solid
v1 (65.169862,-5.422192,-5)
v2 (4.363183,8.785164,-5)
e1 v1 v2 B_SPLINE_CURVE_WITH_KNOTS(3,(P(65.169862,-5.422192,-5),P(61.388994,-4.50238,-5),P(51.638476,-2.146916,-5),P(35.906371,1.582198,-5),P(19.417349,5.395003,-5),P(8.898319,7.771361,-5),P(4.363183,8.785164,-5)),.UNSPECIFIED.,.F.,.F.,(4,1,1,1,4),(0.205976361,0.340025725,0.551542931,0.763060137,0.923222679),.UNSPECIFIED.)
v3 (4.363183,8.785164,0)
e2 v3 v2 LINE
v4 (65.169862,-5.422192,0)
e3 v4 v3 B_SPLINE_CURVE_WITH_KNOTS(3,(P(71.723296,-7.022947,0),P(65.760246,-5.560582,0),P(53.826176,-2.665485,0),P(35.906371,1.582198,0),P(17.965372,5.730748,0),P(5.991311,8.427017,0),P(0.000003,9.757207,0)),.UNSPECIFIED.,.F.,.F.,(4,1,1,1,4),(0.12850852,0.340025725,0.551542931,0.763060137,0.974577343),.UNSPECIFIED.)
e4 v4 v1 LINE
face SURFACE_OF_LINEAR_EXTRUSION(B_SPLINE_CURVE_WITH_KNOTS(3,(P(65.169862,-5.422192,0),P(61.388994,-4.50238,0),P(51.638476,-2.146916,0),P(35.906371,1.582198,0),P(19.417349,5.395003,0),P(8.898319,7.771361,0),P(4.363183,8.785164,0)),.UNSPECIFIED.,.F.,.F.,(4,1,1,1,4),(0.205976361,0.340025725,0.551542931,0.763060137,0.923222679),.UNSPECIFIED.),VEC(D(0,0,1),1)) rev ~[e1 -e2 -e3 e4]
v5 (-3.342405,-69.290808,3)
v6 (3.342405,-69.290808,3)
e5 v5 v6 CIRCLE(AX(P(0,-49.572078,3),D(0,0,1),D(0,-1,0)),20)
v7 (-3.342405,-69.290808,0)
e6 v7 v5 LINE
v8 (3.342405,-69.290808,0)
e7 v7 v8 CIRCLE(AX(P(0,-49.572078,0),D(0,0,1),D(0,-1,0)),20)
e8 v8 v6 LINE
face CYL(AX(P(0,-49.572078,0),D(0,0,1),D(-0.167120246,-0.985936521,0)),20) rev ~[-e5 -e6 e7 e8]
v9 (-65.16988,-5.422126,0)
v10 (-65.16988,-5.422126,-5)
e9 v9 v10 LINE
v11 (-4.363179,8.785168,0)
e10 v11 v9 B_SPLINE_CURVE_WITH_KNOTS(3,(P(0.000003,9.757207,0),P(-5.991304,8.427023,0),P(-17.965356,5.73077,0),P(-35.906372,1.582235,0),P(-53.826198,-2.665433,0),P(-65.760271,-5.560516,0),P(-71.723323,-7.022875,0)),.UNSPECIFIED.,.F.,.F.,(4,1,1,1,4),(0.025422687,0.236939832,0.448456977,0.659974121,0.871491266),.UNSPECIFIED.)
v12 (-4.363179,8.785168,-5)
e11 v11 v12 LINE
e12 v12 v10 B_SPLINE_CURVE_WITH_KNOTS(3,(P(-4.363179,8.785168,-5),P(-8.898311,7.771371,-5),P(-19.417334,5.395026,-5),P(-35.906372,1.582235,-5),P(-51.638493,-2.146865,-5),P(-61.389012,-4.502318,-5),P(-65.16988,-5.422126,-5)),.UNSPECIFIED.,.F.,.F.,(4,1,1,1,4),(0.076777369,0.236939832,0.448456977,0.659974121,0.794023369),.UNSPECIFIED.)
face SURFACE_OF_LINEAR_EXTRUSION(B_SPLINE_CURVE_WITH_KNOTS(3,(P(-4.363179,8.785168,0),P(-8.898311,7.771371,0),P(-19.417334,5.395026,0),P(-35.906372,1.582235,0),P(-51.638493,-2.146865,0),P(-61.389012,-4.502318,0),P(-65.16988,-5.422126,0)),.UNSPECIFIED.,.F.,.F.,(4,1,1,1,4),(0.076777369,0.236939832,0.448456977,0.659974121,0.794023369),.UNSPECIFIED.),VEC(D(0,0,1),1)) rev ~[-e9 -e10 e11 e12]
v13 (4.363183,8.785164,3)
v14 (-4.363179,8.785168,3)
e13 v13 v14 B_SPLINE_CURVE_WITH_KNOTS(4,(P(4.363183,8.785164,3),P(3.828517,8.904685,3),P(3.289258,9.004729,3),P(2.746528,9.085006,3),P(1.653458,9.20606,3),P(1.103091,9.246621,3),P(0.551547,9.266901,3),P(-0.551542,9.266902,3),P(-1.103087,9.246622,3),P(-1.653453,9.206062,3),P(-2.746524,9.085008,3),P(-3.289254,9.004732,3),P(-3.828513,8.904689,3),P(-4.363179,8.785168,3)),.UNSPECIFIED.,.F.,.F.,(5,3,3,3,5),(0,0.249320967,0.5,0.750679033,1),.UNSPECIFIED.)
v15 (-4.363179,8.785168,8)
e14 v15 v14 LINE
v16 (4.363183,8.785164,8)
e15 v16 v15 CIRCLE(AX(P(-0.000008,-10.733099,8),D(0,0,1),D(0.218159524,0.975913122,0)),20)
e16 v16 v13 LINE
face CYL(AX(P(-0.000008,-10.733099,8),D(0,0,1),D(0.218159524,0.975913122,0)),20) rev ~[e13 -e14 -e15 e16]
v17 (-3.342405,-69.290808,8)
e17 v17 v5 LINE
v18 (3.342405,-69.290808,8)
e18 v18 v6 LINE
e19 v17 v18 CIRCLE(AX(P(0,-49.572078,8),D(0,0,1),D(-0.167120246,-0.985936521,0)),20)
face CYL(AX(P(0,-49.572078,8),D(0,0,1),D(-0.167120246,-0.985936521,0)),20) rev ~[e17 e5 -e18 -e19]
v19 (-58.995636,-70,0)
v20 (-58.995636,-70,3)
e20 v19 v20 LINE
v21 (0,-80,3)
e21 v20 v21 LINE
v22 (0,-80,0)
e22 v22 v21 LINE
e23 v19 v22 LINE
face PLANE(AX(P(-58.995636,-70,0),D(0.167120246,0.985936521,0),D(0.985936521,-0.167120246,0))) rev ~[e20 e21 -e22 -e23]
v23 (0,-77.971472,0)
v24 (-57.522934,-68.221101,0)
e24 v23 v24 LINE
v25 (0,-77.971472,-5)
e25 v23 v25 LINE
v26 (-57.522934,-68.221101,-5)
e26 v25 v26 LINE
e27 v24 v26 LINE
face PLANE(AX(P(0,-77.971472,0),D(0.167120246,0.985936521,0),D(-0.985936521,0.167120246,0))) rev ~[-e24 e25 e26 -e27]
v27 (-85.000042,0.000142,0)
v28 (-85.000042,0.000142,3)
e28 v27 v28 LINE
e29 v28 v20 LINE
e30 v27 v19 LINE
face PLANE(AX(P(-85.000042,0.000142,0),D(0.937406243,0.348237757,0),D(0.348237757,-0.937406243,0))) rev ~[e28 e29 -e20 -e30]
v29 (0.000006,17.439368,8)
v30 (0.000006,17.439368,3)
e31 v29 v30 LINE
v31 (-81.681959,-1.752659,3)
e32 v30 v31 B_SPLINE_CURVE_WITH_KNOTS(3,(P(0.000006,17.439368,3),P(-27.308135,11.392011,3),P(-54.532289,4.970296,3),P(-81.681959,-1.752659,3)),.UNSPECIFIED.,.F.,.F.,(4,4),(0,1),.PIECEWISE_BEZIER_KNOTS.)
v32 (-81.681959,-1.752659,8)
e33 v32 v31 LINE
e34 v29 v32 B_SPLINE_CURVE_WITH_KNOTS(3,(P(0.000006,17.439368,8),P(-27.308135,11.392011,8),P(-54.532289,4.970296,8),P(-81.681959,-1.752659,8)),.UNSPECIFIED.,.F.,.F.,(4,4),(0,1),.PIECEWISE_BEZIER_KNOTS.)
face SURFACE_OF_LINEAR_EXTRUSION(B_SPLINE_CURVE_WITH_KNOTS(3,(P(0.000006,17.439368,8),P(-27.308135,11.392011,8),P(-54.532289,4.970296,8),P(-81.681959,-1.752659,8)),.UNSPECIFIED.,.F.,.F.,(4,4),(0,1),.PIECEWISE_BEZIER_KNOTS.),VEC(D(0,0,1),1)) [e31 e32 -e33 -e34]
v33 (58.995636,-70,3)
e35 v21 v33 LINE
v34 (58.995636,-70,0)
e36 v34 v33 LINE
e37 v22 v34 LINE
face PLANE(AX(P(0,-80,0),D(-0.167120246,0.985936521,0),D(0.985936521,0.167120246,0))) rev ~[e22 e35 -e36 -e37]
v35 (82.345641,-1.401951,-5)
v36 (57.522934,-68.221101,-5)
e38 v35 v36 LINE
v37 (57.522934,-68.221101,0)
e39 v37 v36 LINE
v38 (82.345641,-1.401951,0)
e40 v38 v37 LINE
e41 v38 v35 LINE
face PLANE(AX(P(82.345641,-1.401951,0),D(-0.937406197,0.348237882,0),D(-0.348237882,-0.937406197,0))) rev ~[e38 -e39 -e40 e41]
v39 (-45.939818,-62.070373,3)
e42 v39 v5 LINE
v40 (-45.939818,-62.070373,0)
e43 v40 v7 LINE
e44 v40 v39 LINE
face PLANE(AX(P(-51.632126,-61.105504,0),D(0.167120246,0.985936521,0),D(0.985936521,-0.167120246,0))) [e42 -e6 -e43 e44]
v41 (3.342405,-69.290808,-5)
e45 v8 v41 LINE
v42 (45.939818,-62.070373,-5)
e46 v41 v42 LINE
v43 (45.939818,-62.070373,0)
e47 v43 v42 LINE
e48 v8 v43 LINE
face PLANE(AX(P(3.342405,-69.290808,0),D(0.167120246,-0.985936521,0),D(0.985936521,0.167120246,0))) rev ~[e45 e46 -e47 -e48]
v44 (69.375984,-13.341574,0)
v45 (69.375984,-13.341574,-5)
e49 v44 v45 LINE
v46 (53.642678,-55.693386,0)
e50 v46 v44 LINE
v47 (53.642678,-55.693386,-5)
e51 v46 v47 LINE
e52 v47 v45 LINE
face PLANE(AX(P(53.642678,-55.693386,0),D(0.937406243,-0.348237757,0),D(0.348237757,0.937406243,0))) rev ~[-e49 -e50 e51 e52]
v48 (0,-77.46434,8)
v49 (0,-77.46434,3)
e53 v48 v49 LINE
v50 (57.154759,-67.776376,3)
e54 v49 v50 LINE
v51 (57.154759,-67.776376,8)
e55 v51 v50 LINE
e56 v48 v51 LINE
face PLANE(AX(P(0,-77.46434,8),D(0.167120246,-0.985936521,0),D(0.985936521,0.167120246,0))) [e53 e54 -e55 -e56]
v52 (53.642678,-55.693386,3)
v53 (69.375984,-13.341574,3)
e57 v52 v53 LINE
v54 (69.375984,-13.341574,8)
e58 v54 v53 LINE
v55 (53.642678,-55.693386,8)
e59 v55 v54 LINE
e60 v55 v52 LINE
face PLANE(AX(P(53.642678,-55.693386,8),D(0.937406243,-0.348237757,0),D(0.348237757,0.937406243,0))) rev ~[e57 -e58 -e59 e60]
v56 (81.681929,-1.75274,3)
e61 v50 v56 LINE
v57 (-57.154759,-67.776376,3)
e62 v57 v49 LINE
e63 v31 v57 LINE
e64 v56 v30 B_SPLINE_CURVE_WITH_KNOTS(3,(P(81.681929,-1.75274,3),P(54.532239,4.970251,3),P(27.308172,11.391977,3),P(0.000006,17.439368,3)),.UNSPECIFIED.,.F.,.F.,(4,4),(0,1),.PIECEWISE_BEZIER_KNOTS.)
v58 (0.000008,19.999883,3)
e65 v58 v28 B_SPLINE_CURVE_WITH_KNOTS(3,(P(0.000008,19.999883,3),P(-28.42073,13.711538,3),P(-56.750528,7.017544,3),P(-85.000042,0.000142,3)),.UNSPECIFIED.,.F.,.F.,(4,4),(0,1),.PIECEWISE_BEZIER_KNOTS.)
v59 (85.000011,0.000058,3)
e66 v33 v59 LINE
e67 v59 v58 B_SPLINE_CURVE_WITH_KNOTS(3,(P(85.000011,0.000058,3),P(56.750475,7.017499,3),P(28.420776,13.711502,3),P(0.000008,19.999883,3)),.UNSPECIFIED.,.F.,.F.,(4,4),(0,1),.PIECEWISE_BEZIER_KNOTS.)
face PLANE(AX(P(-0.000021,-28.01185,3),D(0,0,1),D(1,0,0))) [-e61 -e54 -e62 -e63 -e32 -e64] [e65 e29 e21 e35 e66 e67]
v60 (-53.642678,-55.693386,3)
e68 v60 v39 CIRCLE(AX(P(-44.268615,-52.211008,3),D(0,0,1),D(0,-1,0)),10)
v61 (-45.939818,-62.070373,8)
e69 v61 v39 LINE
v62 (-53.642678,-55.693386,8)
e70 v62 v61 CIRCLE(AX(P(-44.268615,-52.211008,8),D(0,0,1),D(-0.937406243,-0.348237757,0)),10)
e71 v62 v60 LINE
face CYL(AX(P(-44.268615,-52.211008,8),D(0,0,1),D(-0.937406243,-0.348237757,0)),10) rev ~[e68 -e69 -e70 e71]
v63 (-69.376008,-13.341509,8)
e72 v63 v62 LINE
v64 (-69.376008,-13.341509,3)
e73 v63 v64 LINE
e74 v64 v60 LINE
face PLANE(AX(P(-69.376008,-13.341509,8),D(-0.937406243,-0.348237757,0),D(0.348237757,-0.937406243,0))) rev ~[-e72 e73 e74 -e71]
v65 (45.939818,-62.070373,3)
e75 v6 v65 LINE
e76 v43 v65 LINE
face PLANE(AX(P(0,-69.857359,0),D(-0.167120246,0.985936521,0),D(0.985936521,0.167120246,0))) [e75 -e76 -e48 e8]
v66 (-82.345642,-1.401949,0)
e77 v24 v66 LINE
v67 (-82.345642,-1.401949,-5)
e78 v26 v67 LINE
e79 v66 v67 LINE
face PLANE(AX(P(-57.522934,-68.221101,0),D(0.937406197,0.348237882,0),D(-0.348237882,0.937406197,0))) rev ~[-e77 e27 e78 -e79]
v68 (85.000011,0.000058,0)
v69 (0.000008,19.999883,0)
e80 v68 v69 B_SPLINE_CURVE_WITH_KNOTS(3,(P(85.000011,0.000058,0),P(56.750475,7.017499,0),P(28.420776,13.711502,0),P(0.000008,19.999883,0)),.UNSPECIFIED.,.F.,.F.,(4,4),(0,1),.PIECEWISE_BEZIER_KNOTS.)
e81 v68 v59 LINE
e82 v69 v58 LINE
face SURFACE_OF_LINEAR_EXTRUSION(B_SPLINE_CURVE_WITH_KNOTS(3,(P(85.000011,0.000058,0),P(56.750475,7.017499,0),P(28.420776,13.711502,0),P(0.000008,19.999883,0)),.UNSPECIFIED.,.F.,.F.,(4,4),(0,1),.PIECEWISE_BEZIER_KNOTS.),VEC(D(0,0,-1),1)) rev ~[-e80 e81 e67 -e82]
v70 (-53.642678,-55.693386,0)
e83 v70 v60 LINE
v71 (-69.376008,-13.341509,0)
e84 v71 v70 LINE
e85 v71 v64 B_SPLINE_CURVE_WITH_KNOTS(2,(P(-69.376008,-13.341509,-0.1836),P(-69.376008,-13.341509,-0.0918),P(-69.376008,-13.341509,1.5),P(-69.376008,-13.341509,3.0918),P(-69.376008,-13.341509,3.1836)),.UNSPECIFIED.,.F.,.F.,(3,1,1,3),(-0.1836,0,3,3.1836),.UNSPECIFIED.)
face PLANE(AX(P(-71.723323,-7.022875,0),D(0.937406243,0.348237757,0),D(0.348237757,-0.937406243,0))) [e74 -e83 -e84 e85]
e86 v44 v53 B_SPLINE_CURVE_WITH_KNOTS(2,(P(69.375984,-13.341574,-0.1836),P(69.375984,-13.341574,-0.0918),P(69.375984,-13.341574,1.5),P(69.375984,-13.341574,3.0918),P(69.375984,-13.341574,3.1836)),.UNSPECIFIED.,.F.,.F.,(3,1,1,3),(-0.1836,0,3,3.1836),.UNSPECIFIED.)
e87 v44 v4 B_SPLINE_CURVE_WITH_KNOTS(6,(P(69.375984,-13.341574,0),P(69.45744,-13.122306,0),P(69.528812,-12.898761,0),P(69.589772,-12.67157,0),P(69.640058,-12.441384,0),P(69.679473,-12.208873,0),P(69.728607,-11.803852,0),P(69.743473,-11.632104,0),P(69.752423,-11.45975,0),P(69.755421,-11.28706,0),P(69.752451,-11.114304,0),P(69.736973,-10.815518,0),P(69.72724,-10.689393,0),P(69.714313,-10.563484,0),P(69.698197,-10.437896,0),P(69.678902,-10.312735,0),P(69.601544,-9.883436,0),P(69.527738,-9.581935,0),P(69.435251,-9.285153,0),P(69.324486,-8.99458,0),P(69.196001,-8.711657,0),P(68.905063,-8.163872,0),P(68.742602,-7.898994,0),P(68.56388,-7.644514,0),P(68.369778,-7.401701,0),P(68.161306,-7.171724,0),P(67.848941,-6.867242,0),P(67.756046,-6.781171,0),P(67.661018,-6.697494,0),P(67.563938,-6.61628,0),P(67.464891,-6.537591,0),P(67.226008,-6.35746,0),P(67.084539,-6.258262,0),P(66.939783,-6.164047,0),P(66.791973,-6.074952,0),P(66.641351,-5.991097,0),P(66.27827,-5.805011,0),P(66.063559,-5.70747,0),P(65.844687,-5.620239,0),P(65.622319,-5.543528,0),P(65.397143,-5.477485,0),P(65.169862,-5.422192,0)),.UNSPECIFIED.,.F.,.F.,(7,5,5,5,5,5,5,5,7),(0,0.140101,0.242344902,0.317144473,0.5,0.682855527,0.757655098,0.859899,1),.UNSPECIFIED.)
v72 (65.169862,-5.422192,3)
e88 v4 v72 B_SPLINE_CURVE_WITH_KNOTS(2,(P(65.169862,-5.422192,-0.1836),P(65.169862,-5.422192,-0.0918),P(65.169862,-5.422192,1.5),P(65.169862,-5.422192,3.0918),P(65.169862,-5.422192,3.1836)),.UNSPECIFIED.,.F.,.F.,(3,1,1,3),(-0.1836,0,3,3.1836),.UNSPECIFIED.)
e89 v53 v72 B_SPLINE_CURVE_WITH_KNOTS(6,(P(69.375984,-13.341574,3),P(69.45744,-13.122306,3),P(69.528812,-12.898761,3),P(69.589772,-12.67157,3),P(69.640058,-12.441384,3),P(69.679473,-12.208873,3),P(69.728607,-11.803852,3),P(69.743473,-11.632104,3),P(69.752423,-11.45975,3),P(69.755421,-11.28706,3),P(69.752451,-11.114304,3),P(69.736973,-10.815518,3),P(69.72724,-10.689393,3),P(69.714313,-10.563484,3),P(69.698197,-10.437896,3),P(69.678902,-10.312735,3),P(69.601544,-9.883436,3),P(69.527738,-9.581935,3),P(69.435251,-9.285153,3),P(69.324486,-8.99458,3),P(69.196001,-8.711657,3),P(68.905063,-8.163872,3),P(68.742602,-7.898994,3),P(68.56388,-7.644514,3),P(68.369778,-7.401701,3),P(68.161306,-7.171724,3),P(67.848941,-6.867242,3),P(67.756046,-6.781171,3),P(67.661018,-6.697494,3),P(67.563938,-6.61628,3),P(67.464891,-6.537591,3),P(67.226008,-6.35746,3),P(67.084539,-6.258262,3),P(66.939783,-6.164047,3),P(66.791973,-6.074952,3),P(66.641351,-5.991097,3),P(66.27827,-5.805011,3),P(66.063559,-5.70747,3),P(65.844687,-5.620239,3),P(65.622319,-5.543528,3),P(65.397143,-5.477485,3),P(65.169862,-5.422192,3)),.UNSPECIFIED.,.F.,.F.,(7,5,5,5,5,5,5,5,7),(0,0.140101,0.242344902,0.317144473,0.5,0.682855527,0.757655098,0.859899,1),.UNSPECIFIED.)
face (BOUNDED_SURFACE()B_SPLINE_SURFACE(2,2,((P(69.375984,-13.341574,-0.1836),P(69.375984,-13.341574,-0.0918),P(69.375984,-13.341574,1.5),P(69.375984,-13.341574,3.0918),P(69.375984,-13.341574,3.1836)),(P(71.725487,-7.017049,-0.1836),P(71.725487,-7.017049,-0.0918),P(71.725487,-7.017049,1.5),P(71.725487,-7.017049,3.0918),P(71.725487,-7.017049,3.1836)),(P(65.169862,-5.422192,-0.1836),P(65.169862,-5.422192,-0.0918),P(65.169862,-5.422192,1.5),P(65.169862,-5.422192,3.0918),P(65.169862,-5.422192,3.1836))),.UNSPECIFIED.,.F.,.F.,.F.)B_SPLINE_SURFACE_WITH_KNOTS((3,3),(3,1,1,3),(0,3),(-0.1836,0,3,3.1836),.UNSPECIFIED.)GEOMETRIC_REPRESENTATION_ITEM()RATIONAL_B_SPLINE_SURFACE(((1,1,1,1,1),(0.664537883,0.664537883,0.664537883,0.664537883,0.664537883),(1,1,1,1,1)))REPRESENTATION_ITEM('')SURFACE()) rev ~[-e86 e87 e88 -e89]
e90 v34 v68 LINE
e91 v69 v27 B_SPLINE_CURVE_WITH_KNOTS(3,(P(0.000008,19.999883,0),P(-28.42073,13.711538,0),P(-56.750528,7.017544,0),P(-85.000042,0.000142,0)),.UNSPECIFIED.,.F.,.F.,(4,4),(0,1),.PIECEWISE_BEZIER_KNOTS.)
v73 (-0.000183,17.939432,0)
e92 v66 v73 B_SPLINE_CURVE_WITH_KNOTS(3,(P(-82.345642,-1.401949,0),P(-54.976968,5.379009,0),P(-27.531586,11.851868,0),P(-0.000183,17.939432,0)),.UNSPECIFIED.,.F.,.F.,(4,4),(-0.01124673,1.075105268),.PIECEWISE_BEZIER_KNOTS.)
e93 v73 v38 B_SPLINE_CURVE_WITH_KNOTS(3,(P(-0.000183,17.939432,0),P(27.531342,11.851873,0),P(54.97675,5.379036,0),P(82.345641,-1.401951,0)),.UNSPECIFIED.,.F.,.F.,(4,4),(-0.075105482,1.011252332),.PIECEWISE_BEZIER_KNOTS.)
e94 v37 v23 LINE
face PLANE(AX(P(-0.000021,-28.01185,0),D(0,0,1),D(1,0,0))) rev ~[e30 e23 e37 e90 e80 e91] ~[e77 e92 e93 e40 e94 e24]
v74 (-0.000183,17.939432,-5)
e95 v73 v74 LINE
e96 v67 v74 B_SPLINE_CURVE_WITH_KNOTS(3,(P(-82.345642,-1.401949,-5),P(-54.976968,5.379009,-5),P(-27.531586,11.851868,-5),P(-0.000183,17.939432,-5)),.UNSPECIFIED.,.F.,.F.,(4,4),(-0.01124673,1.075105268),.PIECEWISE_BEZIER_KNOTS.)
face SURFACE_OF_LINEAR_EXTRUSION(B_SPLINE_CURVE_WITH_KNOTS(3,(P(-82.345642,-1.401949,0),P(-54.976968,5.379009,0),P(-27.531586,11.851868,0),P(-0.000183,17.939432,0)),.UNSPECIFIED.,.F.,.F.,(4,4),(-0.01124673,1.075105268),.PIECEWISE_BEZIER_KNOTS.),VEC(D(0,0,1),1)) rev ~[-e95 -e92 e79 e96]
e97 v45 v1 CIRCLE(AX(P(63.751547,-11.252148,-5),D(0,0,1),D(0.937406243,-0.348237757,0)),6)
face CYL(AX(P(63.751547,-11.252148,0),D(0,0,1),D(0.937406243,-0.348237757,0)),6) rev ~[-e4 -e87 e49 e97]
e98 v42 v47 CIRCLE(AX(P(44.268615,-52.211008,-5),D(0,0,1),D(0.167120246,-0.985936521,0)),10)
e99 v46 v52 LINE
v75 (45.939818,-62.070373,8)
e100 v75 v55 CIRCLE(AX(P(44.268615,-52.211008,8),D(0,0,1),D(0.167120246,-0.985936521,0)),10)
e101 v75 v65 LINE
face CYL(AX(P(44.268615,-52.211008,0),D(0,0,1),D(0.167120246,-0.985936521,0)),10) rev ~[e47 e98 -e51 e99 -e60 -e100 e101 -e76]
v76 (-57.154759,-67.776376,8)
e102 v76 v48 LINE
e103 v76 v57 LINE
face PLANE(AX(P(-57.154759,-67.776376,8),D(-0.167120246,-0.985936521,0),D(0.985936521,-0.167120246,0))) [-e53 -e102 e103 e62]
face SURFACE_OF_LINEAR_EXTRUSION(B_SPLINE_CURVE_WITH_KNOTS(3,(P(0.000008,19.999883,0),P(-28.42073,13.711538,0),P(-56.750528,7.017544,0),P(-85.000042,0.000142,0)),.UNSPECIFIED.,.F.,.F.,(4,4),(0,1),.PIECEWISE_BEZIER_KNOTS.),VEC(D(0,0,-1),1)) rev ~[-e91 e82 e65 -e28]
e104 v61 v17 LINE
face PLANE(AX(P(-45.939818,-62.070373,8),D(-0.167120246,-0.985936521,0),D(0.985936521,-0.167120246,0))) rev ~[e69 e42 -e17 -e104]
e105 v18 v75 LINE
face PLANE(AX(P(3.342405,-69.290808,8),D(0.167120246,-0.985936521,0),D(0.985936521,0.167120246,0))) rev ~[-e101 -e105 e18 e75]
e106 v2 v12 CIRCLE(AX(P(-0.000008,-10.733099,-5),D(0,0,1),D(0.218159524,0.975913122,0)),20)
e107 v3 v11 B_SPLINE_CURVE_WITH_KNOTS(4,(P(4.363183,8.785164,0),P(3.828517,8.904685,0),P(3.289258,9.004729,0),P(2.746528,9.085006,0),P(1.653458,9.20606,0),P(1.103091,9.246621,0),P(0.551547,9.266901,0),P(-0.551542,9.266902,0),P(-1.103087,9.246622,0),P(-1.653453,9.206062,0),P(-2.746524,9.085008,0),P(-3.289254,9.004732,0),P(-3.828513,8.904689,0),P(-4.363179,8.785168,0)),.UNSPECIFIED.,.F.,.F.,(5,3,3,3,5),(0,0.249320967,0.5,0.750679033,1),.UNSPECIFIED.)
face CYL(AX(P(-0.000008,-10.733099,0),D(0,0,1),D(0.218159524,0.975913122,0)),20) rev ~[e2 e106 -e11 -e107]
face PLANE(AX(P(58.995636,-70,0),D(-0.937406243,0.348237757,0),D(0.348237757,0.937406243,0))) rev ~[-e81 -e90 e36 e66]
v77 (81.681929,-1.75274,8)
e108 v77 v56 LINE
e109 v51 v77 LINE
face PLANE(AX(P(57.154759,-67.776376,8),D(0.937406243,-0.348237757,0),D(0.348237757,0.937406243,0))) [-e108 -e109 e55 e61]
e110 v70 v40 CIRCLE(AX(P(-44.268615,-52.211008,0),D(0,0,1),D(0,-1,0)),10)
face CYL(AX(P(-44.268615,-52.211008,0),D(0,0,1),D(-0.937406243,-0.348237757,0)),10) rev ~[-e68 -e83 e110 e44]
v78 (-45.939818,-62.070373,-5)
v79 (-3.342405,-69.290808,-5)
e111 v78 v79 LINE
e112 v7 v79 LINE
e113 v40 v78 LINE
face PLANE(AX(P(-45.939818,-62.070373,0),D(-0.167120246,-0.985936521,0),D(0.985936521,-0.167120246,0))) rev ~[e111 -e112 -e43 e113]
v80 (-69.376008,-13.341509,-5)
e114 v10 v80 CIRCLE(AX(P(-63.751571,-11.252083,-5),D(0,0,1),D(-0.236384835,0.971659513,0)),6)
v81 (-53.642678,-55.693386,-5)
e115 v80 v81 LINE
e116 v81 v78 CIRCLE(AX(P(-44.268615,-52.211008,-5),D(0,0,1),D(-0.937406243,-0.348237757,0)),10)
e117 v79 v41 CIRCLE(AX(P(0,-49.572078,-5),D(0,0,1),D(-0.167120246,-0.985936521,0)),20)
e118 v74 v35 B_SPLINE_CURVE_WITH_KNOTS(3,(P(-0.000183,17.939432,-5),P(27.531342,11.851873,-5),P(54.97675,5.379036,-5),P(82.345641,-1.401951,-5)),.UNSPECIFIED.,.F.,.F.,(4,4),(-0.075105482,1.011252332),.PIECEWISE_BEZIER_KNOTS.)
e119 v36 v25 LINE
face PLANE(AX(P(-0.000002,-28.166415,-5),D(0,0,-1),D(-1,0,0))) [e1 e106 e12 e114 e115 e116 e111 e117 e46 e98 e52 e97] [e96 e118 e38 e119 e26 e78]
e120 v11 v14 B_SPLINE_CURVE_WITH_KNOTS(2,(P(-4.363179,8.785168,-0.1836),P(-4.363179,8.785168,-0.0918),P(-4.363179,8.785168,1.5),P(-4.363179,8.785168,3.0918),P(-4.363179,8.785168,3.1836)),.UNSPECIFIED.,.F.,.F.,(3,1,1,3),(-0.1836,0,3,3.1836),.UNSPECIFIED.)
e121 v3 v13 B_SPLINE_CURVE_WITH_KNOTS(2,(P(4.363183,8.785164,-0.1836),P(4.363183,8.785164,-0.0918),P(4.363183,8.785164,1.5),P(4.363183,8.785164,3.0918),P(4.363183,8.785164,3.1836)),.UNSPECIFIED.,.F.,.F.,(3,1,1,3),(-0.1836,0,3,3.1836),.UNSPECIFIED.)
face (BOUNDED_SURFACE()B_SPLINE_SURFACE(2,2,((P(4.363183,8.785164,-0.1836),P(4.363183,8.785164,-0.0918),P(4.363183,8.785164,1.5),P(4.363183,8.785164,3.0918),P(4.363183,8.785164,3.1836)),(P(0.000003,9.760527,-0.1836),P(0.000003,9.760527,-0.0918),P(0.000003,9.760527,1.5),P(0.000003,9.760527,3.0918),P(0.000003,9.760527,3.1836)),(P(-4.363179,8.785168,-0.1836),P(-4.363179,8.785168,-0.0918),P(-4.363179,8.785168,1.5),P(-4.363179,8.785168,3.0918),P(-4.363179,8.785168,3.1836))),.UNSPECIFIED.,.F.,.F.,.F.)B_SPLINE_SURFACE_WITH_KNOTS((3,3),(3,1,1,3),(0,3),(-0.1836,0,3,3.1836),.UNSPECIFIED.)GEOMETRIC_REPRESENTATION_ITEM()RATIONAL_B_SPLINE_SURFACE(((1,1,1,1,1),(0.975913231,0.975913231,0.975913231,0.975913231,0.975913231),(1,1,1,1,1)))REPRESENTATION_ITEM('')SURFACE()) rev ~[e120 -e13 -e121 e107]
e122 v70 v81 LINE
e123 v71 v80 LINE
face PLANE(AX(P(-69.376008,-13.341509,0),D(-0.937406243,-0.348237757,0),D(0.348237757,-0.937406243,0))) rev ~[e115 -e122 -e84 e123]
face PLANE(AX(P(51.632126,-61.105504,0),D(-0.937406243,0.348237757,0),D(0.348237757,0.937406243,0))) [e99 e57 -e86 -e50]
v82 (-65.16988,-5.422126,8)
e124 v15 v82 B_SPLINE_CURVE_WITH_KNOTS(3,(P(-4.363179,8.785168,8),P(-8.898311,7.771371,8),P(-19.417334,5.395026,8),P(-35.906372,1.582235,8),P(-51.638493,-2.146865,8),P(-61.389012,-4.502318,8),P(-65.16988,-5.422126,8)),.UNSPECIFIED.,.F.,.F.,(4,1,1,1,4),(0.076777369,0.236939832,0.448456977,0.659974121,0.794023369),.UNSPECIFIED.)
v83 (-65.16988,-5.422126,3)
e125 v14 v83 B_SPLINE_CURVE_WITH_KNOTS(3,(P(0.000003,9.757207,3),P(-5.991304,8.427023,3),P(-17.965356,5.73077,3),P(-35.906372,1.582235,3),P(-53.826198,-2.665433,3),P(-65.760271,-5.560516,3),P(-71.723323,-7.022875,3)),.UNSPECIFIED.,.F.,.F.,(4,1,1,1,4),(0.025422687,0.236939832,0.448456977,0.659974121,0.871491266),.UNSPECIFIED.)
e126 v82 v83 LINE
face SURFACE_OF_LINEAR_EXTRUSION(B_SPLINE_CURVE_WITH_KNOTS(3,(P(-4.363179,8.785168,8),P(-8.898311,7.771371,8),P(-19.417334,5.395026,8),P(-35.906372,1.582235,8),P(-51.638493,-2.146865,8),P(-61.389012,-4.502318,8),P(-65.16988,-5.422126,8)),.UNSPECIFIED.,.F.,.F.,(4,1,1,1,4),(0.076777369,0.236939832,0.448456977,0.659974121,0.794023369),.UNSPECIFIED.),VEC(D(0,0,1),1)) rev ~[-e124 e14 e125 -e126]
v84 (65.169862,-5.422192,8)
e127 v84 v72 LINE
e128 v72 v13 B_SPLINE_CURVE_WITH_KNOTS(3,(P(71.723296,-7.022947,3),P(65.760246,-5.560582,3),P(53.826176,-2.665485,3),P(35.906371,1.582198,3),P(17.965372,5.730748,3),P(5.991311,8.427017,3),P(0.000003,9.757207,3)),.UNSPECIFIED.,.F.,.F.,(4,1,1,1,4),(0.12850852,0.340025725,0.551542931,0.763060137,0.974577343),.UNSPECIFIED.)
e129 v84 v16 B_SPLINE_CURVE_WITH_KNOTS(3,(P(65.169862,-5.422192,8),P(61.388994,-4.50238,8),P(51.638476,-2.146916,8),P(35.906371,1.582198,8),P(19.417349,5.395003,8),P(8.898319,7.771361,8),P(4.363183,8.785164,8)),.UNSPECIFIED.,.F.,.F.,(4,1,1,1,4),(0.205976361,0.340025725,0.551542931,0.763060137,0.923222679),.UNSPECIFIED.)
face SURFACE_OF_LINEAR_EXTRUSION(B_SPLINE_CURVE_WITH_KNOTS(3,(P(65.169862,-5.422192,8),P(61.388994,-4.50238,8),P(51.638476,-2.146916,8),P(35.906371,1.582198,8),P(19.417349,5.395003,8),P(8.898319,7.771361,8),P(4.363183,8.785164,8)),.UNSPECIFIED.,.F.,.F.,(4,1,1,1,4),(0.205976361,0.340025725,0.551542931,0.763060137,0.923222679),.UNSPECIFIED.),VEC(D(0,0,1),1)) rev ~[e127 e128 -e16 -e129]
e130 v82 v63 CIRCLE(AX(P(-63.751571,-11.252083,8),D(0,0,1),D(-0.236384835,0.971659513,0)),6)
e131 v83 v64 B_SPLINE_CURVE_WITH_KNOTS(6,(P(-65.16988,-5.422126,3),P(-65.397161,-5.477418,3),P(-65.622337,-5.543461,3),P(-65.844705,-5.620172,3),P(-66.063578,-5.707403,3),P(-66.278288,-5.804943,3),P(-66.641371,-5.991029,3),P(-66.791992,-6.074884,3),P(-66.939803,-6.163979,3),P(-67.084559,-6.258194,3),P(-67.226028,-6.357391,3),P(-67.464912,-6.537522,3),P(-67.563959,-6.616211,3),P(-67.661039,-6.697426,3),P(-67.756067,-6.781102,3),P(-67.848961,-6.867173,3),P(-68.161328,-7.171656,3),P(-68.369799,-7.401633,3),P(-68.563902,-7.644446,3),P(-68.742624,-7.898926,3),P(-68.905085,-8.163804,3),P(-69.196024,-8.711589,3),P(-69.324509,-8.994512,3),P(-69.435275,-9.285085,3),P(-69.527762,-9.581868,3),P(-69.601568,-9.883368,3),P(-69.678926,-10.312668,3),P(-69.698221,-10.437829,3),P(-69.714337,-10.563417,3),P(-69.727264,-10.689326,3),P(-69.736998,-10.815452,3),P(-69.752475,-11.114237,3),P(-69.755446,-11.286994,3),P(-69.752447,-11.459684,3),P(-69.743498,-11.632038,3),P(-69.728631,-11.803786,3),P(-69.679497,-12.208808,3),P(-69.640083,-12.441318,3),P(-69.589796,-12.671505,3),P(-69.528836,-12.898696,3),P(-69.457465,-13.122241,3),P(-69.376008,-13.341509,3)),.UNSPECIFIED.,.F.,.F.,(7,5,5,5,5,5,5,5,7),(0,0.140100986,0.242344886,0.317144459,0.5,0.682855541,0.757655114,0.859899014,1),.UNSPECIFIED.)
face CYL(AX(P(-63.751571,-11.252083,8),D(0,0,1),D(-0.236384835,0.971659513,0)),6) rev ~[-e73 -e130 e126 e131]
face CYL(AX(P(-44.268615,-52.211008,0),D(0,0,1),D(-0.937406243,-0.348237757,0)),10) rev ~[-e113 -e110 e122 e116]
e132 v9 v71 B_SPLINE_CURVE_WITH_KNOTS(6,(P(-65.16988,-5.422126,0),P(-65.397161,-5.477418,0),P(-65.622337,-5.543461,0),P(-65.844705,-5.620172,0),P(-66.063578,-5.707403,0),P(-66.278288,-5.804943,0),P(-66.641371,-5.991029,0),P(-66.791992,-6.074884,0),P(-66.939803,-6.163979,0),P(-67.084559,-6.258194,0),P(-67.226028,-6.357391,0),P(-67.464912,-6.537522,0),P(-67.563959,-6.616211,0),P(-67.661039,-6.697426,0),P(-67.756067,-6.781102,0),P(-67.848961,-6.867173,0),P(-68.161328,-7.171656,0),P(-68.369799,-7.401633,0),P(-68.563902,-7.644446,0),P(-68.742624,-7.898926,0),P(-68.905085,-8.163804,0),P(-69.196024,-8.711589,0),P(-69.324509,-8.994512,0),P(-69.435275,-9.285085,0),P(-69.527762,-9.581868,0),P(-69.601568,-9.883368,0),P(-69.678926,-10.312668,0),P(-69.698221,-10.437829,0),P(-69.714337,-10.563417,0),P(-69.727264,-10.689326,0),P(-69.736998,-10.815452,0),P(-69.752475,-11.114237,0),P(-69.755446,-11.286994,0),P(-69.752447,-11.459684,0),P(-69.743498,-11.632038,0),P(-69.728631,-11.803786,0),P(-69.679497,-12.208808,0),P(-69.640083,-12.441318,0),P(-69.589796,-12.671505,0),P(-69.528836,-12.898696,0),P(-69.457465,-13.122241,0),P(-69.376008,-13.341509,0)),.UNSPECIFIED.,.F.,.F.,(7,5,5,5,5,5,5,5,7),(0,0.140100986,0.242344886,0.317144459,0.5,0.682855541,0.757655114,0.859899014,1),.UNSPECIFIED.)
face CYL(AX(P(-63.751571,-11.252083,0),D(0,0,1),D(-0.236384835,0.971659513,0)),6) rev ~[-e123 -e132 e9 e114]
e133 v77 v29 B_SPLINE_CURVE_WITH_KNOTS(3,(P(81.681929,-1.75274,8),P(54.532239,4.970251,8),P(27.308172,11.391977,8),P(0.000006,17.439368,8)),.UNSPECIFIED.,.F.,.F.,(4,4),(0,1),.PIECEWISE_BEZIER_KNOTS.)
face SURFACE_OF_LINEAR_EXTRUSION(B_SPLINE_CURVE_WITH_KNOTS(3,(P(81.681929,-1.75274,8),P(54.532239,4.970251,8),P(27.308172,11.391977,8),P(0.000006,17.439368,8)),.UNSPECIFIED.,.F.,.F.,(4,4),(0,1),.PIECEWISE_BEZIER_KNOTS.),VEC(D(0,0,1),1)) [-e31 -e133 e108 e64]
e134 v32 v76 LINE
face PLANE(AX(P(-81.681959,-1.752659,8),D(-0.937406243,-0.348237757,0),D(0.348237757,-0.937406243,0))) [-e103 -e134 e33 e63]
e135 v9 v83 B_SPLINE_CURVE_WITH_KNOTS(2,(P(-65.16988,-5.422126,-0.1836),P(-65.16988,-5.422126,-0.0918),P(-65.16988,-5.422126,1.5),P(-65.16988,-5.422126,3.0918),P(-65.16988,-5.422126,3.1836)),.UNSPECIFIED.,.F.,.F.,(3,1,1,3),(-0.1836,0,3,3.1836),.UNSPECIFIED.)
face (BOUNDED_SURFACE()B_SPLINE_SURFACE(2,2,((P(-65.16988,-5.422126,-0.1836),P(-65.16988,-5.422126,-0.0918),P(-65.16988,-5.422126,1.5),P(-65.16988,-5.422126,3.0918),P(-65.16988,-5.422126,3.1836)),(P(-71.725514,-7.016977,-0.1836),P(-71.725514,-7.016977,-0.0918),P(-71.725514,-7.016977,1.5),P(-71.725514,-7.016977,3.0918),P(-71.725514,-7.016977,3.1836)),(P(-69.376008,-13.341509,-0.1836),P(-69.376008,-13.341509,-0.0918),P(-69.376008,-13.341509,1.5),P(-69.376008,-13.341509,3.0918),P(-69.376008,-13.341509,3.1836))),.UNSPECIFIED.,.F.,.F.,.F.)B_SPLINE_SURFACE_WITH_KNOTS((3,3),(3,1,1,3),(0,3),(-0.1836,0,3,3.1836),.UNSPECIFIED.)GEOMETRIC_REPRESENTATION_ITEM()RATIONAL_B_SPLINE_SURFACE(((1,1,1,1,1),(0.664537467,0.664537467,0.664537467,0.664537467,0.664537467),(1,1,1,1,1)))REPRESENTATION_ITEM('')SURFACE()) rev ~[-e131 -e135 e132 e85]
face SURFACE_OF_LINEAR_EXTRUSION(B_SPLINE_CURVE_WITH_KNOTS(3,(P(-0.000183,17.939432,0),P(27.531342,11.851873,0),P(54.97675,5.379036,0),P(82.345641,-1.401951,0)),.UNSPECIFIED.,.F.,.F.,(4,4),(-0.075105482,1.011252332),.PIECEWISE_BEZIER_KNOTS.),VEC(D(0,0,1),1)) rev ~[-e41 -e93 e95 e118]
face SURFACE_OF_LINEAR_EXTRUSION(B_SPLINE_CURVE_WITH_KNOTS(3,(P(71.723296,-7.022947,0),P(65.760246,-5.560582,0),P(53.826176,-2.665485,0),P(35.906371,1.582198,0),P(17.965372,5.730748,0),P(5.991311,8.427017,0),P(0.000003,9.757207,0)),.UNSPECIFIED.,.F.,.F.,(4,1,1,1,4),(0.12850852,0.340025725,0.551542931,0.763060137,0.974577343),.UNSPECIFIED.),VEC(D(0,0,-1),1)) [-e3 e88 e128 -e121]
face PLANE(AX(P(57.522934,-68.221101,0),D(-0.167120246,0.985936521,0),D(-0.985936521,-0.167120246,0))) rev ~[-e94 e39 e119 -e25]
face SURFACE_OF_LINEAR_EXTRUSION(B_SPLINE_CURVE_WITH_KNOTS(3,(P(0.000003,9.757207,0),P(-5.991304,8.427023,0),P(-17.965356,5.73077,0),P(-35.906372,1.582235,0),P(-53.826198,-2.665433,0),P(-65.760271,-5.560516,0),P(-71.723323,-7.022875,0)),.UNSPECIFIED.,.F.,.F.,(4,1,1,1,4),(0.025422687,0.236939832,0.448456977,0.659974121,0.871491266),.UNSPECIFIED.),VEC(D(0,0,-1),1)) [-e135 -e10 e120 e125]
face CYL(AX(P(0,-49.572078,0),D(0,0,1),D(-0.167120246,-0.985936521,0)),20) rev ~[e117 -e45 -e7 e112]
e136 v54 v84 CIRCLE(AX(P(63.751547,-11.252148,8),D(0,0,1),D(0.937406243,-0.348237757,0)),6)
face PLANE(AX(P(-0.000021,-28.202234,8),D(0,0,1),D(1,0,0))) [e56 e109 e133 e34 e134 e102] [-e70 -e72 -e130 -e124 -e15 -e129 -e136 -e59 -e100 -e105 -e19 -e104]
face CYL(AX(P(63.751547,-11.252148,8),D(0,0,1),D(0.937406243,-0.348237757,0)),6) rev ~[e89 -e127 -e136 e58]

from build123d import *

# Parameters (mm, degrees)
BOSS_EXTRUDE1_DEPTH = 3
FILLET1_R           = 20
FILLET2_R           = 10
FILLET3_R           = 6
BOSS_EXTRUDE2_START = 5
BOSS_EXTRUDE2_DEPTH = 5
BOSS_EXTRUDE3_DEPTH = 5


with BuildPart() as part:
    # Sketch1 → Boss-Extrude1 (new body)
    with BuildSketch(Plane.XY):
        with BuildLine():
            Line((58.995636199, -70), (85.000010905, 5.7991e-05))
            add(Edge.make_bspline(
                [(85.000010905, 5.7991e-05), (56.750474686, 7.0174992), (28.420775895, 13.71150164), (7.678e-06, 19.999882532)],
                knots=[0, 0, 0, 0, 1, 1, 1, 1], degree=3))
            add(Edge.make_bspline(
                [(7.678e-06, 19.999882532), (-28.420729921, 13.711538103), (-56.750527687, 7.017544413), (-85.000042152, 0.000142104)],
                knots=[0, 0, 0, 0, 1, 1, 1, 1], degree=3))
            Line((-85.000042152, 0.000142104), (-58.995636199, -70))
            Line((-58.995636199, -70), (0, -80))
            Line((0, -80), (58.995636199, -70))
        make_face()
        with BuildLine():
            Line((51.632125707, -61.105504126), (71.72329576, -7.02294745))
            add(Edge.make_bspline(
                [(71.72329576, -7.02294745), (65.760246295, -5.560581522), (53.826176048, -2.665485282), (35.906371118, 1.582198174), (17.96537234, 5.730748209), (5.991311045, 8.427016674), (2.578e-06, 9.757206823)],
                knots=[0.12850852, 0.12850852, 0.12850852, 0.12850852, 0.340025725, 0.551542931, 0.763060137, 0.974577343, 0.974577343, 0.974577343, 0.974577343], degree=3))
            add(Edge.make_bspline(
                [(2.578e-06, 9.757206823), (-5.991303797, 8.427023399), (-17.965355756, 5.730769647), (-35.906372035, 1.582235194), (-53.826198007, -2.665432907), (-65.760270504, -5.560515659), (-71.723322613, -7.022875166)],
                knots=[0.025422687, 0.025422687, 0.025422687, 0.025422687, 0.236939832, 0.448456977, 0.659974121, 0.871491266, 0.871491266, 0.871491266, 0.871491266], degree=3))
            Line((-71.723322613, -7.022875166), (-51.632125707, -61.105504126))
            Line((-51.632125707, -61.105504126), (0, -69.857359184))
            Line((0, -69.857359184), (51.632125707, -61.105504126))
        make_face(mode=Mode.SUBTRACT)
    extrude(amount=BOSS_EXTRUDE1_DEPTH)

    # Fillet1
    fillet1_edges = [part.edges().sort_by_distance(p)[0] for p in [
        (0, -69.857359184, 1.5),
        (2.578e-06, 9.757206823, 1.5),
    ]]
    fillet(fillet1_edges, radius=FILLET1_R)

    # Fillet2
    fillet2_edges = [part.edges().sort_by_distance(p)[0] for p in [
        (51.632125707, -61.105504126, 1.5),
        (-51.632125707, -61.105504126, 1.5),
    ]]
    fillet(fillet2_edges, radius=FILLET2_R)

    # Fillet3
    fillet3_edges = [part.edges().sort_by_distance(p)[0] for p in [
        (71.72329576, -7.02294745, 1.5),
        (-71.723322613, -7.022875166, 1.5),
    ]]
    fillet(fillet3_edges, radius=FILLET3_R)

    # Sketch2 → Boss-Extrude2 (add)
    with BuildSketch(Plane.XY.offset(3).offset(BOSS_EXTRUDE2_START)):
        with BuildLine():
            Line((-81.681959277, -1.75265922), (-57.154758576, -67.776376032))
            Line((-57.154758576, -67.776376032), (0, -77.464339796))
            Line((0, -77.464339796), (57.154758576, -67.776376032))
            Line((57.154758576, -67.776376032), (81.681929126, -1.752740382))
            add(Edge.make_bspline(
                [(81.681929126, -1.752740382), (54.532239341, 4.970251393), (27.308171531, 11.391977282), (6.404e-06, 17.439367697)],
                knots=[0, 0, 0, 0, 1, 1, 1, 1], degree=3))
            add(Edge.make_bspline(
                [(6.404e-06, 17.439367697), (-27.308135136, 11.392011032), (-54.532288876, 4.970295529), (-81.681959277, -1.75265922)],
                knots=[0, 0, 0, 0, 1, 1, 1, 1], degree=3))
        make_face()
        with BuildLine():
            Line((-69.376008475, -13.341509152), (-53.642677645, -55.693385824))
            ThreePointArc((-53.642677645, -55.693385824), (-50.645602116, -59.913867336), (-45.939817671, -62.070373463))
            Line((-45.939817671, -62.070373463), (-3.342404912, -69.290807973))
            ThreePointArc((-3.342404912, -69.290807973), (0, -69.572077553), (3.342404912, -69.290807973))
            Line((3.342404912, -69.290807973), (45.939817671, -62.070373463))
            ThreePointArc((45.939817671, -62.070373463), (50.645602116, -59.913867336), (53.642677645, -55.693385824))
            Line((53.642677645, -55.693385824), (69.375984259, -13.341574337))
            ThreePointArc((69.375984259, -13.341574337), (69.05053211, -8.437764256), (65.169862303, -5.422192294))
            add(Edge.make_bspline(
                [(65.169862303, -5.422192294), (61.388993913, -4.502380085), (51.638475989, -2.146916169), (35.906371118, 1.582198174), (19.417348722, 5.39500343), (8.898318707, 7.771361324), (4.363182833, 8.785163741)],
                knots=[0.205976361, 0.205976361, 0.205976361, 0.205976361, 0.340025725, 0.551542931, 0.763060137, 0.923222679, 0.923222679, 0.923222679, 0.923222679], degree=3))
            ThreePointArc((4.363182833, 8.785163741), (2.348e-06, 9.266901295), (-4.363178618, 8.785168098))
            add(Edge.make_bspline(
                [(-4.363178618, 8.785168098), (-8.898311373, 7.771371135), (-19.41733449, 5.395025913), (-35.906372035, 1.582235194), (-51.638493171, -2.146865145), (-61.389012491, -4.502317987), (-65.169880027, -5.422125529)],
                knots=[0.076777369, 0.076777369, 0.076777369, 0.076777369, 0.236939832, 0.448456977, 0.659974121, 0.794023369, 0.794023369, 0.794023369, 0.794023369], degree=3))
            ThreePointArc((-65.169880027, -5.422125529), (-69.050554759, -8.437696121), (-69.376008475, -13.341509152))
        make_face(mode=Mode.SUBTRACT)
    extrude(amount=-BOSS_EXTRUDE2_DEPTH)

    # Sketch3 → Boss-Extrude3 (add)
    with BuildSketch(Plane(origin=(0, 0, 0), x_dir=(-1, 0, 0), z_dir=(0, 0, -1))):
        with BuildLine():
            Line((57.522934276, -68.221100795), (82.345641792, -1.401949233))
            add(Edge.make_bspline(
                [(82.345641792, -1.401949233), (54.976968444, 5.379009049), (27.531586141, 11.851868369), (0.000183244, 17.939432259)],
                knots=[-0.01124673, -0.01124673, -0.01124673, -0.01124673, 1.075105268, 1.075105268, 1.075105268, 1.075105268], degree=3))
            add(Edge.make_bspline(
                [(0.000183244, 17.939432259), (-27.531342023, 11.851872874), (-54.976750263, 5.379036047), (-82.345641148, -1.401950967)],
                knots=[-0.075105482, -0.075105482, -0.075105482, -0.075105482, 1.011252332, 1.011252332, 1.011252332, 1.011252332], degree=3))
            Line((-82.345641148, -1.401950967), (-57.522934276, -68.221100795))
            Line((-57.522934276, -68.221100795), (0, -77.971471837))
            Line((0, -77.971471837), (57.522934276, -68.221100795))
        make_face()
        with BuildLine():
            Line((-53.642677645, -55.693385824), (-69.375984259, -13.341574337))
            ThreePointArc((-69.375984259, -13.341574337), (-69.05053211, -8.437764256), (-65.169862303, -5.422192294))
            add(Edge.make_bspline(
                [(-65.169862303, -5.422192294), (-61.388993913, -4.502380085), (-51.638475989, -2.146916169), (-35.906371118, 1.582198174), (-19.417348722, 5.39500343), (-8.898318707, 7.771361324), (-4.363182833, 8.785163741)],
                knots=[0.205976361, 0.205976361, 0.205976361, 0.205976361, 0.340025725, 0.551542931, 0.763060137, 0.923222679, 0.923222679, 0.923222679, 0.923222679], degree=3))
            ThreePointArc((-4.363182833, 8.785163741), (-2.348e-06, 9.266901295), (4.363178618, 8.785168098))
            add(Edge.make_bspline(
                [(4.363178618, 8.785168098), (8.898311373, 7.771371135), (19.41733449, 5.395025913), (35.906372035, 1.582235194), (51.638493171, -2.146865145), (61.389012491, -4.502317987), (65.169880027, -5.422125529)],
                knots=[0.076777369, 0.076777369, 0.076777369, 0.076777369, 0.236939832, 0.448456977, 0.659974121, 0.794023369, 0.794023369, 0.794023369, 0.794023369], degree=3))
            ThreePointArc((65.169880027, -5.422125529), (69.050554759, -8.437696121), (69.376008475, -13.341509152))
            Line((69.376008475, -13.341509152), (53.642677645, -55.693385824))
            ThreePointArc((53.642677645, -55.693385824), (50.645602116, -59.913867336), (45.939817671, -62.070373463))
            Line((45.939817671, -62.070373463), (3.342404912, -69.290807973))
            ThreePointArc((3.342404912, -69.290807973), (0, -69.572077553), (-3.342404912, -69.290807973))
            Line((-3.342404912, -69.290807973), (-45.939817671, -62.070373463))
            ThreePointArc((-45.939817671, -62.070373463), (-50.645602116, -59.913867336), (-53.642677645, -55.693385824))
        make_face(mode=Mode.SUBTRACT)
    extrude(amount=BOSS_EXTRUDE3_DEPTH)


solid = part.part
